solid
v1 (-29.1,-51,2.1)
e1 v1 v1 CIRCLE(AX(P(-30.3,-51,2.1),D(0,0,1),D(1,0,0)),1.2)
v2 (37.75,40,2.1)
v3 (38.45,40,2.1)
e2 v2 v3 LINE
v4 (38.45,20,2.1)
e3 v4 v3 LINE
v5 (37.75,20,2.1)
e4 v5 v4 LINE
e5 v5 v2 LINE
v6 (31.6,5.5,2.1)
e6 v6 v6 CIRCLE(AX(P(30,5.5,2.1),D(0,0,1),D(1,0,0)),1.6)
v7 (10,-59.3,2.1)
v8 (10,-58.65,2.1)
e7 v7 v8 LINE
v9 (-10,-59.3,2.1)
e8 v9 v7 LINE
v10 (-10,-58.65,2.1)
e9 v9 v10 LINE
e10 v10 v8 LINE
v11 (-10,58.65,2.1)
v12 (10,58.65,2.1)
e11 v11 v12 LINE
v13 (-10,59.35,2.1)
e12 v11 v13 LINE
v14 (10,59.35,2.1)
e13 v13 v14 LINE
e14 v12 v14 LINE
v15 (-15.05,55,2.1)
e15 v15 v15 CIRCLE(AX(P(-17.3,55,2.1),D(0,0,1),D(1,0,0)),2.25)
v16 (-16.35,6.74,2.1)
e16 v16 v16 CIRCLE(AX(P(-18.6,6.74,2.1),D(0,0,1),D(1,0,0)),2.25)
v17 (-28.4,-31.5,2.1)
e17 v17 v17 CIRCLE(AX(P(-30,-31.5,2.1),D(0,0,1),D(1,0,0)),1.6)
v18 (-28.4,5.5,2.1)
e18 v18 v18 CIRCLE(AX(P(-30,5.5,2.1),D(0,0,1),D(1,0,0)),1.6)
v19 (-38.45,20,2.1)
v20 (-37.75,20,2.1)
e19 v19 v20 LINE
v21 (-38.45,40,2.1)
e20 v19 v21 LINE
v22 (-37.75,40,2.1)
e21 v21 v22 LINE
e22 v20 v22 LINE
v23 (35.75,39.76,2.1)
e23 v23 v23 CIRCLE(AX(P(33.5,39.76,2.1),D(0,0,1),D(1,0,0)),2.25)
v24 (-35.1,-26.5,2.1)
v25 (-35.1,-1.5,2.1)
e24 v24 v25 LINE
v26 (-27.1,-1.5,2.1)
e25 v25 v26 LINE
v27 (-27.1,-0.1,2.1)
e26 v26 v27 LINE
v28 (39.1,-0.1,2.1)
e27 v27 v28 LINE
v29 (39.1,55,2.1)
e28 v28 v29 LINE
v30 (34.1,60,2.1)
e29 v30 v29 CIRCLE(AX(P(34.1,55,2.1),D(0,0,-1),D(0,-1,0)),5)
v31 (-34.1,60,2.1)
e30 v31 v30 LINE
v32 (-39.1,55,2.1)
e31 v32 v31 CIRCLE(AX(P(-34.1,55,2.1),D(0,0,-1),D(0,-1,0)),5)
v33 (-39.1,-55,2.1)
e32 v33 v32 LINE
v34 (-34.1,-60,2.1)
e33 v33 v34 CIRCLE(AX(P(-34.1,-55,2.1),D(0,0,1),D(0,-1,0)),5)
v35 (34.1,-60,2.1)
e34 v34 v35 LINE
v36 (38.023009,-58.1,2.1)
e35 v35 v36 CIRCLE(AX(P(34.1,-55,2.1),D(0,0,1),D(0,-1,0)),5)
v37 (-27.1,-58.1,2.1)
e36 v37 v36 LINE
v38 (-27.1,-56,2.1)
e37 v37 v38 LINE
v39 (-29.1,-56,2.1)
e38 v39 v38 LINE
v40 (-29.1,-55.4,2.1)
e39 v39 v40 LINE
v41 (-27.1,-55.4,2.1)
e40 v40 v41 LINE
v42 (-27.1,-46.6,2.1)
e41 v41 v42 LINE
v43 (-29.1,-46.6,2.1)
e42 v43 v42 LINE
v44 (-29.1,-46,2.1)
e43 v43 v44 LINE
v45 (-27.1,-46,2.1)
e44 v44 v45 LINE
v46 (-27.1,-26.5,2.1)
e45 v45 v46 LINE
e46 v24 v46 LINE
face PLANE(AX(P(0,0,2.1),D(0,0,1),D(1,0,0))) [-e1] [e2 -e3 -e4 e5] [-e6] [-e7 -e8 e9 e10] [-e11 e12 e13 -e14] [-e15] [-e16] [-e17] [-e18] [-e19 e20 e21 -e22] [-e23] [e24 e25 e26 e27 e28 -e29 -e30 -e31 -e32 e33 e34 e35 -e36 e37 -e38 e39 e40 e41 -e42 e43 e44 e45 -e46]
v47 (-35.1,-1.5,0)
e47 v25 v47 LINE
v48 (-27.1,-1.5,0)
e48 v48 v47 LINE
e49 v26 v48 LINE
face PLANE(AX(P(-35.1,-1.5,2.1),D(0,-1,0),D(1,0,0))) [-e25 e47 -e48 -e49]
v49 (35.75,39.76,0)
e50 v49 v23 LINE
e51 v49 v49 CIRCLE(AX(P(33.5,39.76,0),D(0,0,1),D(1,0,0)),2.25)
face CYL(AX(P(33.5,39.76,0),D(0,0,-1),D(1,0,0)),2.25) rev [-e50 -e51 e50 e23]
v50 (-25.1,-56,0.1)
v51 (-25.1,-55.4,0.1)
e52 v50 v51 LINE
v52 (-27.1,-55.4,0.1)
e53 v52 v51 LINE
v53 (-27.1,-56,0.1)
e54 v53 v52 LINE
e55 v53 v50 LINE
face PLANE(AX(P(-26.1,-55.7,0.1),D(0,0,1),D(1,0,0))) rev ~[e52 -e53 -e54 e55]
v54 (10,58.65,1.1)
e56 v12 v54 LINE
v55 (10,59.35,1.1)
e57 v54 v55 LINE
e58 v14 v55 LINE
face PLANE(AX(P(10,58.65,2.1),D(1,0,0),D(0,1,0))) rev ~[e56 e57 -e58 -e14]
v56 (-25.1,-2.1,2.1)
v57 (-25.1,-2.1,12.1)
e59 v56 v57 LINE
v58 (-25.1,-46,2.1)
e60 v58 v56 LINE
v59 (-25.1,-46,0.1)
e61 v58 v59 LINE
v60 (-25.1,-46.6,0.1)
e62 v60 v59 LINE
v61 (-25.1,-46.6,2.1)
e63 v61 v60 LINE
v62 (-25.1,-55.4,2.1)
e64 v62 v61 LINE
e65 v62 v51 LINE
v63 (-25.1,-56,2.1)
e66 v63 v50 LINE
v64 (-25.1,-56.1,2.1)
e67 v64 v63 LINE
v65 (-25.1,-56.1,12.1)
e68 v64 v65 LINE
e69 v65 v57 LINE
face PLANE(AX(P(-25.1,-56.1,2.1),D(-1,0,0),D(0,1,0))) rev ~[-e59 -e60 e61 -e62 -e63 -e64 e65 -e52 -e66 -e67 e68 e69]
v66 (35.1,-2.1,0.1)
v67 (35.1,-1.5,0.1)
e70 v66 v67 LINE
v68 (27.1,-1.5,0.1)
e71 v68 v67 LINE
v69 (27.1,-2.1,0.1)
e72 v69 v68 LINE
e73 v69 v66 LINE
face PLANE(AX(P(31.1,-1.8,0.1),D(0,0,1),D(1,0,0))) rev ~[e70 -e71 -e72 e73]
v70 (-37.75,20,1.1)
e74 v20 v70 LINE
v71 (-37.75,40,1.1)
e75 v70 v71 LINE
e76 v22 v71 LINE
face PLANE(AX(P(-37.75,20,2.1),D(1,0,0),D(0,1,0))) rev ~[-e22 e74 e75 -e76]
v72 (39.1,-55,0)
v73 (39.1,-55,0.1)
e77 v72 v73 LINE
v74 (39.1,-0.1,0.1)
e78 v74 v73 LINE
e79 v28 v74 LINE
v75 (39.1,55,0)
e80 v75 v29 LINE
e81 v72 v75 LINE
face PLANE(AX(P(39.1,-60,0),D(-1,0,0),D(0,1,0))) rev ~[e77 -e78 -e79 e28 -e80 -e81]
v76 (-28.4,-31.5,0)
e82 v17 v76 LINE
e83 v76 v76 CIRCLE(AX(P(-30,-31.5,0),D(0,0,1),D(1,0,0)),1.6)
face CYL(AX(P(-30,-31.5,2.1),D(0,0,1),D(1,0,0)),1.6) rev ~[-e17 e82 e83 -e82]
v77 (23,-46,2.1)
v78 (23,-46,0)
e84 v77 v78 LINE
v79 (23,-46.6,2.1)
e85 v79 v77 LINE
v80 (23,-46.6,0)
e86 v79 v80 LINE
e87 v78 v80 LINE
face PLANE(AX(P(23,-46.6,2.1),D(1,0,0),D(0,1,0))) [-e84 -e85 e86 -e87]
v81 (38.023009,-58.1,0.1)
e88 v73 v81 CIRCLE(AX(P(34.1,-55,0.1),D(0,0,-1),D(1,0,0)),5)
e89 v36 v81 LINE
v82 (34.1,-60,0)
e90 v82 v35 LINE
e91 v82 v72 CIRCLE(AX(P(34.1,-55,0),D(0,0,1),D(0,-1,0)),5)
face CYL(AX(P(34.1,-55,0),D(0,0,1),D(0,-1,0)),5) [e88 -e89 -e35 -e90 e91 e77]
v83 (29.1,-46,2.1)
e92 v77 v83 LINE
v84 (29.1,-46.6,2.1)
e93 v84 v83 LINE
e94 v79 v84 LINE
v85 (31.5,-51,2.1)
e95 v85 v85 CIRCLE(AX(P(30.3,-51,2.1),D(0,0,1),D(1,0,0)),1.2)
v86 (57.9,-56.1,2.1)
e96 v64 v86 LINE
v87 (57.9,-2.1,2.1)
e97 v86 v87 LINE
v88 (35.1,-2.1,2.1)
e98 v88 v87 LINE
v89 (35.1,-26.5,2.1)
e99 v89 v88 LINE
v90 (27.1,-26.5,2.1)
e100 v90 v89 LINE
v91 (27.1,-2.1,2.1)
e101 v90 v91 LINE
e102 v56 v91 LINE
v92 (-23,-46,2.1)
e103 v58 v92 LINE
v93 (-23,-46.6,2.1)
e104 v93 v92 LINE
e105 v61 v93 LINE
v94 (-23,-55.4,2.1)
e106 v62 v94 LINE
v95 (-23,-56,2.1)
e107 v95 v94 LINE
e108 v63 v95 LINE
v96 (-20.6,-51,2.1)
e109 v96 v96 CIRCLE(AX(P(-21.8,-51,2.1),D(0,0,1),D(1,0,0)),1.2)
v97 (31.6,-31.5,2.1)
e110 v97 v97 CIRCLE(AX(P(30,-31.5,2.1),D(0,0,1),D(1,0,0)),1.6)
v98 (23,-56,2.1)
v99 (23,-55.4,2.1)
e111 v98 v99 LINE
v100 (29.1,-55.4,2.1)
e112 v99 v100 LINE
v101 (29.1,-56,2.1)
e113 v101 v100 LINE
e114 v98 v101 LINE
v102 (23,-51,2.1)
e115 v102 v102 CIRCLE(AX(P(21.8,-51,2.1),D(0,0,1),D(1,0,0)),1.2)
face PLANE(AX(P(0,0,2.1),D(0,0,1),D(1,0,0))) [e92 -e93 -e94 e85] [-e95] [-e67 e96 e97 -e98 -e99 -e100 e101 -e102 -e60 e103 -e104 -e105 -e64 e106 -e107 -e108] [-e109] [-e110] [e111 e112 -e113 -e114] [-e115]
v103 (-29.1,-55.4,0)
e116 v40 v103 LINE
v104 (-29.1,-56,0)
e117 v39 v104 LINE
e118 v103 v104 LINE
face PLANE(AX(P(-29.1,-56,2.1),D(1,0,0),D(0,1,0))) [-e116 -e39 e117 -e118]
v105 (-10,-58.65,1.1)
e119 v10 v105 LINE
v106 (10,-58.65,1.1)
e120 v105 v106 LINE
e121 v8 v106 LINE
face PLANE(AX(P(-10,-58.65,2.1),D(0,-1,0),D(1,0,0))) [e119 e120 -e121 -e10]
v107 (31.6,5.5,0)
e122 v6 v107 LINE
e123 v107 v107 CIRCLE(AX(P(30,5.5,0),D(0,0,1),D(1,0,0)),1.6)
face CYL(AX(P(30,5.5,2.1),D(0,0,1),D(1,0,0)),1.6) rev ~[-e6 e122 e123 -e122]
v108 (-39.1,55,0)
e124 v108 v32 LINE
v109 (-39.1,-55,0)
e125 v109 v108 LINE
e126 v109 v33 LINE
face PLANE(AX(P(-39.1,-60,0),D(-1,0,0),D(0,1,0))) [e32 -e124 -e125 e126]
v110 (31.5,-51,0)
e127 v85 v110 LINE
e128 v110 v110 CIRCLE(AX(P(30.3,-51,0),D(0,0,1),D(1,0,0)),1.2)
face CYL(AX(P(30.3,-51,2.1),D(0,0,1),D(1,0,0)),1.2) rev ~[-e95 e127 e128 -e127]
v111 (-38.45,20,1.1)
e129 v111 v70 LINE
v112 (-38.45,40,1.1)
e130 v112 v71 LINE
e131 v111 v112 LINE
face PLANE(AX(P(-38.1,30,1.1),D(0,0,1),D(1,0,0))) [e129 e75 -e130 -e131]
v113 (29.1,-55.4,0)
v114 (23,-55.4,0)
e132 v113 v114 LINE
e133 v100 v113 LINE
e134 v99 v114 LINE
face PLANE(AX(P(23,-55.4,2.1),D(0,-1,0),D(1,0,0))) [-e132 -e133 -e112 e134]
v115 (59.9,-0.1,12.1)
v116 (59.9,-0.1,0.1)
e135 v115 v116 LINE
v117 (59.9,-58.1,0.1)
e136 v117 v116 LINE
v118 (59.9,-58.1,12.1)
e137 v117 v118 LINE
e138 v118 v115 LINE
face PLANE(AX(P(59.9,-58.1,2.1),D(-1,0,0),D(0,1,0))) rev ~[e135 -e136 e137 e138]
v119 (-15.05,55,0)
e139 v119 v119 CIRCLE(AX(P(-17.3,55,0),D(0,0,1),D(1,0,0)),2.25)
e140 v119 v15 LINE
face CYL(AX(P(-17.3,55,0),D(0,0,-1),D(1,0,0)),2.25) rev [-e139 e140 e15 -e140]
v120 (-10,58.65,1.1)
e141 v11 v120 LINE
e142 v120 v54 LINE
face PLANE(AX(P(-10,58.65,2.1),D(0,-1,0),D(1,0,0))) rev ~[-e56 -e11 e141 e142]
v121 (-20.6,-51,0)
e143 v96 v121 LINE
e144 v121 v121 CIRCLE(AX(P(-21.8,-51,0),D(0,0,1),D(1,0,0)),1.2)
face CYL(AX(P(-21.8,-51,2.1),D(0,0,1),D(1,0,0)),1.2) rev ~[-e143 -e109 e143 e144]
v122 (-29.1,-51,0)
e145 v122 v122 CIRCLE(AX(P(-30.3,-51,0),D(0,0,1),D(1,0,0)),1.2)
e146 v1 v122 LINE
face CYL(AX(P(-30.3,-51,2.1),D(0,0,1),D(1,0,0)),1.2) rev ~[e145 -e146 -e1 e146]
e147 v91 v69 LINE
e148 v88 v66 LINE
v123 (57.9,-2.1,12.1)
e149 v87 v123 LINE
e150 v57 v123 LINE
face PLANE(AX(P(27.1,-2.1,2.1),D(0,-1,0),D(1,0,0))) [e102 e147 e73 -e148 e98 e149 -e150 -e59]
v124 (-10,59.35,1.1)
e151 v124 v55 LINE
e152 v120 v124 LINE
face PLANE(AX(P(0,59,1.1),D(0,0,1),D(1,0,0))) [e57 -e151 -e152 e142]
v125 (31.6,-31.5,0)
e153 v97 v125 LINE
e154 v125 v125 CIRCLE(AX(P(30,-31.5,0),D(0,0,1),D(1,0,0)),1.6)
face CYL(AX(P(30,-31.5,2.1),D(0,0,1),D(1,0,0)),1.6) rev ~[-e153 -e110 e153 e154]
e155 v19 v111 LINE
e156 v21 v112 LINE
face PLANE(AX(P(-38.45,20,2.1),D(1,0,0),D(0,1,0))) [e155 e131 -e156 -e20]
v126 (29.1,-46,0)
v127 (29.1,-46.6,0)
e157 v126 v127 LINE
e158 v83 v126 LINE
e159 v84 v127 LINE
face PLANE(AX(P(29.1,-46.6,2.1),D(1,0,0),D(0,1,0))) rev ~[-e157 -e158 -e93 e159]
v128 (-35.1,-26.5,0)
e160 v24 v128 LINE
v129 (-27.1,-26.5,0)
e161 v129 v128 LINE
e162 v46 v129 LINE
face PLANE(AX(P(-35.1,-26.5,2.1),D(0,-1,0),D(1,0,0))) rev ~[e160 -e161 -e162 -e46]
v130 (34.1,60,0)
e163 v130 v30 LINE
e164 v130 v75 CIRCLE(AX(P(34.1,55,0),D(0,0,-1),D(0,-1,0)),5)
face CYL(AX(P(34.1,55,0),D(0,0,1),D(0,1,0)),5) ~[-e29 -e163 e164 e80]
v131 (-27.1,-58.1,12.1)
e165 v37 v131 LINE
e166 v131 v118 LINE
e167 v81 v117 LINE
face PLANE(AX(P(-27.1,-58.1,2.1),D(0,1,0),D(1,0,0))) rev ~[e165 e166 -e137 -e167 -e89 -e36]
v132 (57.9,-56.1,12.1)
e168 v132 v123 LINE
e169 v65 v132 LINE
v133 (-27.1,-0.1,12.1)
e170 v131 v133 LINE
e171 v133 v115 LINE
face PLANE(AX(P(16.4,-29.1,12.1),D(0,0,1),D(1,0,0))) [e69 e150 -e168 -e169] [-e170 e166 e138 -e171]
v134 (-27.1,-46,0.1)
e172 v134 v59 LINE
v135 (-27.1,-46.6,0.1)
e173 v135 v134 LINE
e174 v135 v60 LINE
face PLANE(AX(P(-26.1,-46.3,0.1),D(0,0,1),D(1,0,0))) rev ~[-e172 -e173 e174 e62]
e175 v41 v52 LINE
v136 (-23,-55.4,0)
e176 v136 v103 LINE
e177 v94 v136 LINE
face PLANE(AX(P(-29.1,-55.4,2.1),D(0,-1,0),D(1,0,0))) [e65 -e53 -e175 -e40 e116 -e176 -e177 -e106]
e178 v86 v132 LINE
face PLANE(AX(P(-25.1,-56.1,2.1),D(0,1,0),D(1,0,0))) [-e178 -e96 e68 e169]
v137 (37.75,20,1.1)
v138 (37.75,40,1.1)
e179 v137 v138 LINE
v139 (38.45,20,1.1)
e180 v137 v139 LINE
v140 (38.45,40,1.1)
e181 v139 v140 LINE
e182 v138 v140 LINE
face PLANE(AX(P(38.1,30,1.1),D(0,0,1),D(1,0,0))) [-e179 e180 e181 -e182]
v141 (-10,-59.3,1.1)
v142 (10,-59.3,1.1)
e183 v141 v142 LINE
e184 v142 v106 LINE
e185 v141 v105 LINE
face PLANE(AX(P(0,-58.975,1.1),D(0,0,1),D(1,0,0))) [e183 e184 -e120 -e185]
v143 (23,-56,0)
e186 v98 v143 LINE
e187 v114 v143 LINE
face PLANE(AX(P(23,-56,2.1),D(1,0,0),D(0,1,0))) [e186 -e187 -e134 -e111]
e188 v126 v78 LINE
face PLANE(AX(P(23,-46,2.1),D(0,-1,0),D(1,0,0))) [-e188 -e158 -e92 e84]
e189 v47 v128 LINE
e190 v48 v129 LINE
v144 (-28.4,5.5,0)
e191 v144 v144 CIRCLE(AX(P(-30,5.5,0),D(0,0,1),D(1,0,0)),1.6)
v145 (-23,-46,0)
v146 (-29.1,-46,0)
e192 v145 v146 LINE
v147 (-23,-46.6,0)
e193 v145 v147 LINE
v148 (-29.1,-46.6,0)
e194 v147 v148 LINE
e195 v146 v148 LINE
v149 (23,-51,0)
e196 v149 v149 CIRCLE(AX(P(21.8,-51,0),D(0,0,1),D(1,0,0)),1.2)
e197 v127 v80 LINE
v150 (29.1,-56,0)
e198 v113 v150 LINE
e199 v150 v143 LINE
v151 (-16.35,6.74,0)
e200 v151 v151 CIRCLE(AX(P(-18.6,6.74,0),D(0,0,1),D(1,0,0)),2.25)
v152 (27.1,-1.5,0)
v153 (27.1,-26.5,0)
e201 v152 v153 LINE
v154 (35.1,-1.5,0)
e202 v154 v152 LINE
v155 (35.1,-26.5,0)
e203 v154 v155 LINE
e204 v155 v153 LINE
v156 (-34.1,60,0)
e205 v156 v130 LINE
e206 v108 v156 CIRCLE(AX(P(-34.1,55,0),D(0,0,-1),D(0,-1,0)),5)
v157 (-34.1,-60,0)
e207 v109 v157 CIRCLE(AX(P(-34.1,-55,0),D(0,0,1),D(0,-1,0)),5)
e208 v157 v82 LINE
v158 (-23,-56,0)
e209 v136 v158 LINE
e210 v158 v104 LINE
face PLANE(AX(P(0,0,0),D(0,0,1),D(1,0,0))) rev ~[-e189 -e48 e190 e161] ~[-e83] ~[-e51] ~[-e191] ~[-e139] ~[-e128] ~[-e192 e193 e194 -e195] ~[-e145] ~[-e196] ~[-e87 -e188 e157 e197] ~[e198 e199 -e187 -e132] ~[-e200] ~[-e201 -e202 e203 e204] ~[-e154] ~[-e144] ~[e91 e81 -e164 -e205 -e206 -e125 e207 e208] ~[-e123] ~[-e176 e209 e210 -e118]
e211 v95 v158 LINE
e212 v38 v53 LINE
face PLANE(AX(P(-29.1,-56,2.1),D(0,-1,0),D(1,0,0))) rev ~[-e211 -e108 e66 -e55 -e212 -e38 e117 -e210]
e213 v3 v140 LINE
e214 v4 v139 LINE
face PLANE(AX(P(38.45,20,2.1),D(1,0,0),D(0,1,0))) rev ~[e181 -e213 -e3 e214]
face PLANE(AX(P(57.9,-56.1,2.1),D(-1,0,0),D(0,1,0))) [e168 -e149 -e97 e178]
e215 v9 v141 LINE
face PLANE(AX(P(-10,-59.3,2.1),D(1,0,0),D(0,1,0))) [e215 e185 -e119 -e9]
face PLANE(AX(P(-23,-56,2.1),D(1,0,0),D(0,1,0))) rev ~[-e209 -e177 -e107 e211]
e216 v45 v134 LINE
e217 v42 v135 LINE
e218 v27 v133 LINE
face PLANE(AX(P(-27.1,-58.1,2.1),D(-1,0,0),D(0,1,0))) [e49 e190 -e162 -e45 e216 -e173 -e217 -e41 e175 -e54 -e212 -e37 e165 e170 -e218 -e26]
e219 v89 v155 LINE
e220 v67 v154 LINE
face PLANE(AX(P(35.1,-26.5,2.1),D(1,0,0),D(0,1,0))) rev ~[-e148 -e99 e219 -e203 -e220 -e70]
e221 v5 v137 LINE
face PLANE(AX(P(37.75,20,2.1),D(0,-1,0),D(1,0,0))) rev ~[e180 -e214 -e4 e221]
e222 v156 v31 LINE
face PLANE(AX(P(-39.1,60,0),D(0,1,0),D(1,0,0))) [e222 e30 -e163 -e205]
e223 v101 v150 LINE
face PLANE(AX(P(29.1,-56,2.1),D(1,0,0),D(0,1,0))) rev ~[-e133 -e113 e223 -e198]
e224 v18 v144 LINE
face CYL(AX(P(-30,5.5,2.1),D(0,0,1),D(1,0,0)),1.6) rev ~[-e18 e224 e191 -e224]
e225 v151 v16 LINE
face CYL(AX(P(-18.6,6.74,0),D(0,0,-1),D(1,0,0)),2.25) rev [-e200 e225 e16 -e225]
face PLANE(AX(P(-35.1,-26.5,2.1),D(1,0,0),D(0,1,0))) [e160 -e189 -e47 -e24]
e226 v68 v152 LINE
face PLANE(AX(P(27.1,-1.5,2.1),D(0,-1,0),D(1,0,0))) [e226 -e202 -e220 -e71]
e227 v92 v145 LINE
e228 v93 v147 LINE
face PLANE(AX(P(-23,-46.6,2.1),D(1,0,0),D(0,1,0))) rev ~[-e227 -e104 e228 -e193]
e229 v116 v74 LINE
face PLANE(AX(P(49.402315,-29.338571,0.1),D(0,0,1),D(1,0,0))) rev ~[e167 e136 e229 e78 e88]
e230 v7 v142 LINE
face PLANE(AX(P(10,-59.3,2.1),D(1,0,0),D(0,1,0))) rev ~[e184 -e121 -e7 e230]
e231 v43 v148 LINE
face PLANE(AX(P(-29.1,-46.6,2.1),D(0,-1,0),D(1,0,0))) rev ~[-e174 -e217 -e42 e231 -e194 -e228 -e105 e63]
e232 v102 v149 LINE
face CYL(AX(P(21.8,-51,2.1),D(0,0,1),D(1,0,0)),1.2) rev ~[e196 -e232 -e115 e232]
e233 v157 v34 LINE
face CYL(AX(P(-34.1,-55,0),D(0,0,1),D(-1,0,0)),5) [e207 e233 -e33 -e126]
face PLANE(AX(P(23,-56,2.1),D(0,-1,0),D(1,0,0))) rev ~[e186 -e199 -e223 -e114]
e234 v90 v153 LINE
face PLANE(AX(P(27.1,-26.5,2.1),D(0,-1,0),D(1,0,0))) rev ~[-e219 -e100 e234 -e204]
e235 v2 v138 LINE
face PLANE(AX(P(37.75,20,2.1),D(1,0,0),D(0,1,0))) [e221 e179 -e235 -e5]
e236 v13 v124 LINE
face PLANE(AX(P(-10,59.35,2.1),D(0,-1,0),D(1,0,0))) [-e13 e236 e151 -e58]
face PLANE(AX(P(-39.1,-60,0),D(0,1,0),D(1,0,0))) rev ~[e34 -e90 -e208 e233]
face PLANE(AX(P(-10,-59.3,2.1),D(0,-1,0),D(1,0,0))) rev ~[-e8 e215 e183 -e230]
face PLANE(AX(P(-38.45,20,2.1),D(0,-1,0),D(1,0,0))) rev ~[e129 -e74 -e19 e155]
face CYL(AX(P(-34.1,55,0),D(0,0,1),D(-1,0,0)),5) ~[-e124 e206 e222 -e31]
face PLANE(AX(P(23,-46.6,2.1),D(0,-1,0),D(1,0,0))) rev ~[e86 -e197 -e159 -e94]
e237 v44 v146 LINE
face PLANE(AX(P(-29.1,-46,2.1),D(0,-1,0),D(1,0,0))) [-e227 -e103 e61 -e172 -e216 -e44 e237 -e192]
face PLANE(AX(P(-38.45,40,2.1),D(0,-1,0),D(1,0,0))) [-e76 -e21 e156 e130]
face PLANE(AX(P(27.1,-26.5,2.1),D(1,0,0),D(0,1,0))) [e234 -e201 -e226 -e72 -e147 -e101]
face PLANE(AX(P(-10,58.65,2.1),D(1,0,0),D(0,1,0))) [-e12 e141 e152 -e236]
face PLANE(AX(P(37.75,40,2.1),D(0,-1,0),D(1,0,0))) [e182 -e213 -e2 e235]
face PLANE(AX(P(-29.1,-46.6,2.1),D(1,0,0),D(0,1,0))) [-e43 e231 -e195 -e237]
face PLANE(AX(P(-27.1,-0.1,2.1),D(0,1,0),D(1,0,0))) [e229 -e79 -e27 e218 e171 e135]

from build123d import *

# Parameters (mm, degrees)
SKETCH1_W                    = 78.2
SKETCH1_H                    = 120
SKETCH1_R                    = 2.25
BOSS_EXTRUDE1_DEPTH          = 2.1
CUT_EXTRUDE1_REACH           = 4.1
SKETCH2_R                    = 1.2
SKETCH2_W                    = 6.1
SKETCH2_H                    = 0.6
CUT_EXTRUDE3_REACH           = 4.1
SKETCH8_R                    = 1.6
SKETCH8_W                    = 8
SKETCH8_H                    = 25
FILLET2_R                    = 5
SCHIZZO2_W                   = 87
SCHIZZO2_H                   = 58
SCHIZZO2_W_2                 = 83
SCHIZZO2_H_2                 = 54
ESTRUSIONE_ESTRUSIONE1_DEPTH = 10
SCHIZZO3_W                   = 0.7
SCHIZZO3_H                   = 20
SCHIZZO3_W_2                 = 20
SCHIZZO3_H_2                 = 0.7
SCHIZZO3_H_3                 = 0.65
TAGLIO_ESTRUSIONE1_DEPTH     = 1
SCHIZZO2_3_W                 = 8
SCHIZZO2_3_H                 = 0.6
SCHIZZO2_3_W_2               = 2
ESTRUSIONE_ESTRUSIONE2_DEPTH = 2


with BuildPart() as part:
    # Sketch1 → Boss-Extrude1 (new body)
    with BuildSketch(Plane.XY):
        Rectangle(SKETCH1_W, SKETCH1_H)
        with Locations((-17.3, 55)):
            Circle(SKETCH1_R, mode=Mode.SUBTRACT)
        with Locations((33.5, 39.76)):
            Circle(SKETCH1_R, mode=Mode.SUBTRACT)
        with Locations((-18.6, 6.74)):
            Circle(SKETCH1_R, mode=Mode.SUBTRACT)
    extrude(amount=BOSS_EXTRUDE1_DEPTH)

    # Sketch2 → Cut-Extrude1 (cut, up to next)
    with BuildSketch(Plane.XY.offset(2.1), mode=Mode.PRIVATE) as cut_extrude1_sk1:
        with Locations((-30.3, -51)):
            Circle(SKETCH2_R)
    cut_extrude1_tool1 = extrude(cut_extrude1_sk1.sketch, amount=-CUT_EXTRUDE1_REACH, mode=Mode.PRIVATE) & part.part
    add(cut_extrude1_tool1.solids().sort_by_distance((-30.3, -51, 2.1))[0], mode=Mode.SUBTRACT)
    # Sketch2 → Cut-Extrude1 (cut, up to next)
    with BuildSketch(Plane.XY.offset(2.1), mode=Mode.PRIVATE) as cut_extrude1_sk2:
        with Locations((-21.8, -51)):
            Circle(SKETCH2_R)
    cut_extrude1_tool2 = extrude(cut_extrude1_sk2.sketch, amount=-CUT_EXTRUDE1_REACH, mode=Mode.PRIVATE) & part.part
    add(cut_extrude1_tool2.solids().sort_by_distance((-21.8, -51, 2.1))[0], mode=Mode.SUBTRACT)
    # Sketch2 → Cut-Extrude1 (cut, up to next)
    with BuildSketch(Plane.XY.offset(2.1), mode=Mode.PRIVATE) as cut_extrude1_sk3:
        with Locations((21.8, -51)):
            Circle(SKETCH2_R)
    cut_extrude1_tool3 = extrude(cut_extrude1_sk3.sketch, amount=-CUT_EXTRUDE1_REACH, mode=Mode.PRIVATE) & part.part
    add(cut_extrude1_tool3.solids().sort_by_distance((21.8, -51, 2.1))[0], mode=Mode.SUBTRACT)
    # Sketch2 → Cut-Extrude1 (cut, up to next)
    with BuildSketch(Plane.XY.offset(2.1), mode=Mode.PRIVATE) as cut_extrude1_sk4:
        with Locations((30.3, -51)):
            Circle(SKETCH2_R)
    cut_extrude1_tool4 = extrude(cut_extrude1_sk4.sketch, amount=-CUT_EXTRUDE1_REACH, mode=Mode.PRIVATE) & part.part
    add(cut_extrude1_tool4.solids().sort_by_distance((30.3, -51, 2.1))[0], mode=Mode.SUBTRACT)
    # Sketch2 → Cut-Extrude1 (cut, up to next)
    with BuildSketch(Plane.XY.offset(2.1), mode=Mode.PRIVATE) as cut_extrude1_sk5:
        with Locations((-26.05, -46.3)):
            Rectangle(SKETCH2_W, SKETCH2_H)
    cut_extrude1_tool5 = extrude(cut_extrude1_sk5.sketch, amount=-CUT_EXTRUDE1_REACH, mode=Mode.PRIVATE) & part.part
    add(cut_extrude1_tool5.solids().sort_by_distance((-26.05, -46.3, 2.1))[0], mode=Mode.SUBTRACT)
    # Sketch2 → Cut-Extrude1 (cut, up to next)
    with BuildSketch(Plane.XY.offset(2.1), mode=Mode.PRIVATE) as cut_extrude1_sk6:
        with Locations((-26.05, -55.7)):
            Rectangle(SKETCH2_W, SKETCH2_H)
    cut_extrude1_tool6 = extrude(cut_extrude1_sk6.sketch, amount=-CUT_EXTRUDE1_REACH, mode=Mode.PRIVATE) & part.part
    add(cut_extrude1_tool6.solids().sort_by_distance((-26.05, -55.7, 2.1))[0], mode=Mode.SUBTRACT)
    # Sketch2 → Cut-Extrude1 (cut, up to next)
    with BuildSketch(Plane.XY.offset(2.1), mode=Mode.PRIVATE) as cut_extrude1_sk7:
        with Locations((26.05, -55.7)):
            Rectangle(SKETCH2_W, SKETCH2_H)
    cut_extrude1_tool7 = extrude(cut_extrude1_sk7.sketch, amount=-CUT_EXTRUDE1_REACH, mode=Mode.PRIVATE) & part.part
    add(cut_extrude1_tool7.solids().sort_by_distance((26.05, -55.7, 2.1))[0], mode=Mode.SUBTRACT)
    # Sketch2 → Cut-Extrude1 (cut, up to next)
    with BuildSketch(Plane.XY.offset(2.1), mode=Mode.PRIVATE) as cut_extrude1_sk8:
        with Locations((26.05, -46.3)):
            Rectangle(SKETCH2_W, SKETCH2_H)
    cut_extrude1_tool8 = extrude(cut_extrude1_sk8.sketch, amount=-CUT_EXTRUDE1_REACH, mode=Mode.PRIVATE) & part.part
    add(cut_extrude1_tool8.solids().sort_by_distance((26.05, -46.3, 2.1))[0], mode=Mode.SUBTRACT)

    # Sketch8 → Cut-Extrude3 (cut, up to next)
    with BuildSketch(Plane.XY.offset(2.1), mode=Mode.PRIVATE) as cut_extrude3_sk1:
        with Locations((-30, -31.5)):
            Circle(SKETCH8_R)
    cut_extrude3_tool1 = extrude(cut_extrude3_sk1.sketch, amount=-CUT_EXTRUDE3_REACH, mode=Mode.PRIVATE) & part.part
    add(cut_extrude3_tool1.solids().sort_by_distance((-30, -31.5, 2.1))[0], mode=Mode.SUBTRACT)
    # Sketch8 → Cut-Extrude3 (cut, up to next)
    with BuildSketch(Plane.XY.offset(2.1), mode=Mode.PRIVATE) as cut_extrude3_sk2:
        with Locations((30, -31.5)):
            Circle(SKETCH8_R)
    cut_extrude3_tool2 = extrude(cut_extrude3_sk2.sketch, amount=-CUT_EXTRUDE3_REACH, mode=Mode.PRIVATE) & part.part
    add(cut_extrude3_tool2.solids().sort_by_distance((30, -31.5, 2.1))[0], mode=Mode.SUBTRACT)
    # Sketch8 → Cut-Extrude3 (cut, up to next)
    with BuildSketch(Plane.XY.offset(2.1), mode=Mode.PRIVATE) as cut_extrude3_sk3:
        with Locations((30, 5.5)):
            Circle(SKETCH8_R)
    cut_extrude3_tool3 = extrude(cut_extrude3_sk3.sketch, amount=-CUT_EXTRUDE3_REACH, mode=Mode.PRIVATE) & part.part
    add(cut_extrude3_tool3.solids().sort_by_distance((30, 5.5, 2.1))[0], mode=Mode.SUBTRACT)
    # Sketch8 → Cut-Extrude3 (cut, up to next)
    with BuildSketch(Plane.XY.offset(2.1), mode=Mode.PRIVATE) as cut_extrude3_sk4:
        with Locations((-30, 5.5)):
            Circle(SKETCH8_R)
    cut_extrude3_tool4 = extrude(cut_extrude3_sk4.sketch, amount=-CUT_EXTRUDE3_REACH, mode=Mode.PRIVATE) & part.part
    add(cut_extrude3_tool4.solids().sort_by_distance((-30, 5.5, 2.1))[0], mode=Mode.SUBTRACT)
    # Sketch8 → Cut-Extrude3 (cut, up to next)
    with BuildSketch(Plane.XY.offset(2.1), mode=Mode.PRIVATE) as cut_extrude3_sk5:
        with Locations((-31.1, -14)):
            Rectangle(SKETCH8_W, SKETCH8_H)
    cut_extrude3_tool5 = extrude(cut_extrude3_sk5.sketch, amount=-CUT_EXTRUDE3_REACH, mode=Mode.PRIVATE) & part.part
    add(cut_extrude3_tool5.solids().sort_by_distance((-31.1, -14, 2.1))[0], mode=Mode.SUBTRACT)
    # Sketch8 → Cut-Extrude3 (cut, up to next)
    with BuildSketch(Plane.XY.offset(2.1), mode=Mode.PRIVATE) as cut_extrude3_sk6:
        with Locations((31.1, -14)):
            Rectangle(SKETCH8_W, SKETCH8_H)
    cut_extrude3_tool6 = extrude(cut_extrude3_sk6.sketch, amount=-CUT_EXTRUDE3_REACH, mode=Mode.PRIVATE) & part.part
    add(cut_extrude3_tool6.solids().sort_by_distance((31.1, -14, 2.1))[0], mode=Mode.SUBTRACT)

    # Fillet2
    fillet2_edges = [part.edges().sort_by_distance(p)[0] for p in [
        (39.1, -60, 1.05),
        (-39.1, -60, 1.05),
        (-39.1, 60, 1.05),
        (39.1, 60, 1.05),
    ]]
    fillet(fillet2_edges, radius=FILLET2_R)

    # Schizzo2 → Estrusione-Estrusione1 (add)
    with BuildSketch(Plane.XY.offset(2.1)):
        with Locations((16.4, -29.1)):
            Rectangle(SCHIZZO2_W, SCHIZZO2_H)
        with Locations((16.4, -29.1)):
            Rectangle(SCHIZZO2_W_2, SCHIZZO2_H_2, mode=Mode.SUBTRACT)
    extrude(amount=ESTRUSIONE_ESTRUSIONE1_DEPTH)

    # Schizzo3 → Taglio-Estrusione1 (cut)
    with BuildSketch(Plane.XY.offset(2.1)):
        with Locations((-38.1, 30)):
            Rectangle(SCHIZZO3_W, SCHIZZO3_H)
        with Locations((38.1, 30)):
            Rectangle(SCHIZZO3_W, SCHIZZO3_H)
        with Locations((0, 59)):
            Rectangle(SCHIZZO3_W_2, SCHIZZO3_H_2)
        with Locations((0, -58.975)):
            Rectangle(SCHIZZO3_W_2, SCHIZZO3_H_3)
    extrude(amount=-TAGLIO_ESTRUSIONE1_DEPTH, mode=Mode.SUBTRACT)

    # Schizzo2<3> → Estrusione-Estrusione2 (add)
    with BuildSketch(Plane.XY.offset(2.1)):
        with Locations((31.1, -1.8)):
            Rectangle(SCHIZZO2_3_W, SCHIZZO2_3_H)
        with Locations((-26.1, -46.3)):
            Rectangle(SCHIZZO2_3_W_2, SCHIZZO2_3_H)
        with BuildLine():
            Line((39.1, -0.1), (39.1, -55))
            ThreePointArc((39.1, -55), (38.823084016, -56.640877015), (38.023009049, -58.1))
            Line((38.023009049, -58.1), (59.9, -58.1))
            Line((59.9, -58.1), (59.9, -0.1))
            Line((59.9, -0.1), (39.1, -0.1))
        make_face()
        with Locations((-26.1, -55.7)):
            Rectangle(SCHIZZO2_3_W_2, SCHIZZO2_3_H)
    extrude(amount=-ESTRUSIONE_ESTRUSIONE2_DEPTH)


solid = part.part
